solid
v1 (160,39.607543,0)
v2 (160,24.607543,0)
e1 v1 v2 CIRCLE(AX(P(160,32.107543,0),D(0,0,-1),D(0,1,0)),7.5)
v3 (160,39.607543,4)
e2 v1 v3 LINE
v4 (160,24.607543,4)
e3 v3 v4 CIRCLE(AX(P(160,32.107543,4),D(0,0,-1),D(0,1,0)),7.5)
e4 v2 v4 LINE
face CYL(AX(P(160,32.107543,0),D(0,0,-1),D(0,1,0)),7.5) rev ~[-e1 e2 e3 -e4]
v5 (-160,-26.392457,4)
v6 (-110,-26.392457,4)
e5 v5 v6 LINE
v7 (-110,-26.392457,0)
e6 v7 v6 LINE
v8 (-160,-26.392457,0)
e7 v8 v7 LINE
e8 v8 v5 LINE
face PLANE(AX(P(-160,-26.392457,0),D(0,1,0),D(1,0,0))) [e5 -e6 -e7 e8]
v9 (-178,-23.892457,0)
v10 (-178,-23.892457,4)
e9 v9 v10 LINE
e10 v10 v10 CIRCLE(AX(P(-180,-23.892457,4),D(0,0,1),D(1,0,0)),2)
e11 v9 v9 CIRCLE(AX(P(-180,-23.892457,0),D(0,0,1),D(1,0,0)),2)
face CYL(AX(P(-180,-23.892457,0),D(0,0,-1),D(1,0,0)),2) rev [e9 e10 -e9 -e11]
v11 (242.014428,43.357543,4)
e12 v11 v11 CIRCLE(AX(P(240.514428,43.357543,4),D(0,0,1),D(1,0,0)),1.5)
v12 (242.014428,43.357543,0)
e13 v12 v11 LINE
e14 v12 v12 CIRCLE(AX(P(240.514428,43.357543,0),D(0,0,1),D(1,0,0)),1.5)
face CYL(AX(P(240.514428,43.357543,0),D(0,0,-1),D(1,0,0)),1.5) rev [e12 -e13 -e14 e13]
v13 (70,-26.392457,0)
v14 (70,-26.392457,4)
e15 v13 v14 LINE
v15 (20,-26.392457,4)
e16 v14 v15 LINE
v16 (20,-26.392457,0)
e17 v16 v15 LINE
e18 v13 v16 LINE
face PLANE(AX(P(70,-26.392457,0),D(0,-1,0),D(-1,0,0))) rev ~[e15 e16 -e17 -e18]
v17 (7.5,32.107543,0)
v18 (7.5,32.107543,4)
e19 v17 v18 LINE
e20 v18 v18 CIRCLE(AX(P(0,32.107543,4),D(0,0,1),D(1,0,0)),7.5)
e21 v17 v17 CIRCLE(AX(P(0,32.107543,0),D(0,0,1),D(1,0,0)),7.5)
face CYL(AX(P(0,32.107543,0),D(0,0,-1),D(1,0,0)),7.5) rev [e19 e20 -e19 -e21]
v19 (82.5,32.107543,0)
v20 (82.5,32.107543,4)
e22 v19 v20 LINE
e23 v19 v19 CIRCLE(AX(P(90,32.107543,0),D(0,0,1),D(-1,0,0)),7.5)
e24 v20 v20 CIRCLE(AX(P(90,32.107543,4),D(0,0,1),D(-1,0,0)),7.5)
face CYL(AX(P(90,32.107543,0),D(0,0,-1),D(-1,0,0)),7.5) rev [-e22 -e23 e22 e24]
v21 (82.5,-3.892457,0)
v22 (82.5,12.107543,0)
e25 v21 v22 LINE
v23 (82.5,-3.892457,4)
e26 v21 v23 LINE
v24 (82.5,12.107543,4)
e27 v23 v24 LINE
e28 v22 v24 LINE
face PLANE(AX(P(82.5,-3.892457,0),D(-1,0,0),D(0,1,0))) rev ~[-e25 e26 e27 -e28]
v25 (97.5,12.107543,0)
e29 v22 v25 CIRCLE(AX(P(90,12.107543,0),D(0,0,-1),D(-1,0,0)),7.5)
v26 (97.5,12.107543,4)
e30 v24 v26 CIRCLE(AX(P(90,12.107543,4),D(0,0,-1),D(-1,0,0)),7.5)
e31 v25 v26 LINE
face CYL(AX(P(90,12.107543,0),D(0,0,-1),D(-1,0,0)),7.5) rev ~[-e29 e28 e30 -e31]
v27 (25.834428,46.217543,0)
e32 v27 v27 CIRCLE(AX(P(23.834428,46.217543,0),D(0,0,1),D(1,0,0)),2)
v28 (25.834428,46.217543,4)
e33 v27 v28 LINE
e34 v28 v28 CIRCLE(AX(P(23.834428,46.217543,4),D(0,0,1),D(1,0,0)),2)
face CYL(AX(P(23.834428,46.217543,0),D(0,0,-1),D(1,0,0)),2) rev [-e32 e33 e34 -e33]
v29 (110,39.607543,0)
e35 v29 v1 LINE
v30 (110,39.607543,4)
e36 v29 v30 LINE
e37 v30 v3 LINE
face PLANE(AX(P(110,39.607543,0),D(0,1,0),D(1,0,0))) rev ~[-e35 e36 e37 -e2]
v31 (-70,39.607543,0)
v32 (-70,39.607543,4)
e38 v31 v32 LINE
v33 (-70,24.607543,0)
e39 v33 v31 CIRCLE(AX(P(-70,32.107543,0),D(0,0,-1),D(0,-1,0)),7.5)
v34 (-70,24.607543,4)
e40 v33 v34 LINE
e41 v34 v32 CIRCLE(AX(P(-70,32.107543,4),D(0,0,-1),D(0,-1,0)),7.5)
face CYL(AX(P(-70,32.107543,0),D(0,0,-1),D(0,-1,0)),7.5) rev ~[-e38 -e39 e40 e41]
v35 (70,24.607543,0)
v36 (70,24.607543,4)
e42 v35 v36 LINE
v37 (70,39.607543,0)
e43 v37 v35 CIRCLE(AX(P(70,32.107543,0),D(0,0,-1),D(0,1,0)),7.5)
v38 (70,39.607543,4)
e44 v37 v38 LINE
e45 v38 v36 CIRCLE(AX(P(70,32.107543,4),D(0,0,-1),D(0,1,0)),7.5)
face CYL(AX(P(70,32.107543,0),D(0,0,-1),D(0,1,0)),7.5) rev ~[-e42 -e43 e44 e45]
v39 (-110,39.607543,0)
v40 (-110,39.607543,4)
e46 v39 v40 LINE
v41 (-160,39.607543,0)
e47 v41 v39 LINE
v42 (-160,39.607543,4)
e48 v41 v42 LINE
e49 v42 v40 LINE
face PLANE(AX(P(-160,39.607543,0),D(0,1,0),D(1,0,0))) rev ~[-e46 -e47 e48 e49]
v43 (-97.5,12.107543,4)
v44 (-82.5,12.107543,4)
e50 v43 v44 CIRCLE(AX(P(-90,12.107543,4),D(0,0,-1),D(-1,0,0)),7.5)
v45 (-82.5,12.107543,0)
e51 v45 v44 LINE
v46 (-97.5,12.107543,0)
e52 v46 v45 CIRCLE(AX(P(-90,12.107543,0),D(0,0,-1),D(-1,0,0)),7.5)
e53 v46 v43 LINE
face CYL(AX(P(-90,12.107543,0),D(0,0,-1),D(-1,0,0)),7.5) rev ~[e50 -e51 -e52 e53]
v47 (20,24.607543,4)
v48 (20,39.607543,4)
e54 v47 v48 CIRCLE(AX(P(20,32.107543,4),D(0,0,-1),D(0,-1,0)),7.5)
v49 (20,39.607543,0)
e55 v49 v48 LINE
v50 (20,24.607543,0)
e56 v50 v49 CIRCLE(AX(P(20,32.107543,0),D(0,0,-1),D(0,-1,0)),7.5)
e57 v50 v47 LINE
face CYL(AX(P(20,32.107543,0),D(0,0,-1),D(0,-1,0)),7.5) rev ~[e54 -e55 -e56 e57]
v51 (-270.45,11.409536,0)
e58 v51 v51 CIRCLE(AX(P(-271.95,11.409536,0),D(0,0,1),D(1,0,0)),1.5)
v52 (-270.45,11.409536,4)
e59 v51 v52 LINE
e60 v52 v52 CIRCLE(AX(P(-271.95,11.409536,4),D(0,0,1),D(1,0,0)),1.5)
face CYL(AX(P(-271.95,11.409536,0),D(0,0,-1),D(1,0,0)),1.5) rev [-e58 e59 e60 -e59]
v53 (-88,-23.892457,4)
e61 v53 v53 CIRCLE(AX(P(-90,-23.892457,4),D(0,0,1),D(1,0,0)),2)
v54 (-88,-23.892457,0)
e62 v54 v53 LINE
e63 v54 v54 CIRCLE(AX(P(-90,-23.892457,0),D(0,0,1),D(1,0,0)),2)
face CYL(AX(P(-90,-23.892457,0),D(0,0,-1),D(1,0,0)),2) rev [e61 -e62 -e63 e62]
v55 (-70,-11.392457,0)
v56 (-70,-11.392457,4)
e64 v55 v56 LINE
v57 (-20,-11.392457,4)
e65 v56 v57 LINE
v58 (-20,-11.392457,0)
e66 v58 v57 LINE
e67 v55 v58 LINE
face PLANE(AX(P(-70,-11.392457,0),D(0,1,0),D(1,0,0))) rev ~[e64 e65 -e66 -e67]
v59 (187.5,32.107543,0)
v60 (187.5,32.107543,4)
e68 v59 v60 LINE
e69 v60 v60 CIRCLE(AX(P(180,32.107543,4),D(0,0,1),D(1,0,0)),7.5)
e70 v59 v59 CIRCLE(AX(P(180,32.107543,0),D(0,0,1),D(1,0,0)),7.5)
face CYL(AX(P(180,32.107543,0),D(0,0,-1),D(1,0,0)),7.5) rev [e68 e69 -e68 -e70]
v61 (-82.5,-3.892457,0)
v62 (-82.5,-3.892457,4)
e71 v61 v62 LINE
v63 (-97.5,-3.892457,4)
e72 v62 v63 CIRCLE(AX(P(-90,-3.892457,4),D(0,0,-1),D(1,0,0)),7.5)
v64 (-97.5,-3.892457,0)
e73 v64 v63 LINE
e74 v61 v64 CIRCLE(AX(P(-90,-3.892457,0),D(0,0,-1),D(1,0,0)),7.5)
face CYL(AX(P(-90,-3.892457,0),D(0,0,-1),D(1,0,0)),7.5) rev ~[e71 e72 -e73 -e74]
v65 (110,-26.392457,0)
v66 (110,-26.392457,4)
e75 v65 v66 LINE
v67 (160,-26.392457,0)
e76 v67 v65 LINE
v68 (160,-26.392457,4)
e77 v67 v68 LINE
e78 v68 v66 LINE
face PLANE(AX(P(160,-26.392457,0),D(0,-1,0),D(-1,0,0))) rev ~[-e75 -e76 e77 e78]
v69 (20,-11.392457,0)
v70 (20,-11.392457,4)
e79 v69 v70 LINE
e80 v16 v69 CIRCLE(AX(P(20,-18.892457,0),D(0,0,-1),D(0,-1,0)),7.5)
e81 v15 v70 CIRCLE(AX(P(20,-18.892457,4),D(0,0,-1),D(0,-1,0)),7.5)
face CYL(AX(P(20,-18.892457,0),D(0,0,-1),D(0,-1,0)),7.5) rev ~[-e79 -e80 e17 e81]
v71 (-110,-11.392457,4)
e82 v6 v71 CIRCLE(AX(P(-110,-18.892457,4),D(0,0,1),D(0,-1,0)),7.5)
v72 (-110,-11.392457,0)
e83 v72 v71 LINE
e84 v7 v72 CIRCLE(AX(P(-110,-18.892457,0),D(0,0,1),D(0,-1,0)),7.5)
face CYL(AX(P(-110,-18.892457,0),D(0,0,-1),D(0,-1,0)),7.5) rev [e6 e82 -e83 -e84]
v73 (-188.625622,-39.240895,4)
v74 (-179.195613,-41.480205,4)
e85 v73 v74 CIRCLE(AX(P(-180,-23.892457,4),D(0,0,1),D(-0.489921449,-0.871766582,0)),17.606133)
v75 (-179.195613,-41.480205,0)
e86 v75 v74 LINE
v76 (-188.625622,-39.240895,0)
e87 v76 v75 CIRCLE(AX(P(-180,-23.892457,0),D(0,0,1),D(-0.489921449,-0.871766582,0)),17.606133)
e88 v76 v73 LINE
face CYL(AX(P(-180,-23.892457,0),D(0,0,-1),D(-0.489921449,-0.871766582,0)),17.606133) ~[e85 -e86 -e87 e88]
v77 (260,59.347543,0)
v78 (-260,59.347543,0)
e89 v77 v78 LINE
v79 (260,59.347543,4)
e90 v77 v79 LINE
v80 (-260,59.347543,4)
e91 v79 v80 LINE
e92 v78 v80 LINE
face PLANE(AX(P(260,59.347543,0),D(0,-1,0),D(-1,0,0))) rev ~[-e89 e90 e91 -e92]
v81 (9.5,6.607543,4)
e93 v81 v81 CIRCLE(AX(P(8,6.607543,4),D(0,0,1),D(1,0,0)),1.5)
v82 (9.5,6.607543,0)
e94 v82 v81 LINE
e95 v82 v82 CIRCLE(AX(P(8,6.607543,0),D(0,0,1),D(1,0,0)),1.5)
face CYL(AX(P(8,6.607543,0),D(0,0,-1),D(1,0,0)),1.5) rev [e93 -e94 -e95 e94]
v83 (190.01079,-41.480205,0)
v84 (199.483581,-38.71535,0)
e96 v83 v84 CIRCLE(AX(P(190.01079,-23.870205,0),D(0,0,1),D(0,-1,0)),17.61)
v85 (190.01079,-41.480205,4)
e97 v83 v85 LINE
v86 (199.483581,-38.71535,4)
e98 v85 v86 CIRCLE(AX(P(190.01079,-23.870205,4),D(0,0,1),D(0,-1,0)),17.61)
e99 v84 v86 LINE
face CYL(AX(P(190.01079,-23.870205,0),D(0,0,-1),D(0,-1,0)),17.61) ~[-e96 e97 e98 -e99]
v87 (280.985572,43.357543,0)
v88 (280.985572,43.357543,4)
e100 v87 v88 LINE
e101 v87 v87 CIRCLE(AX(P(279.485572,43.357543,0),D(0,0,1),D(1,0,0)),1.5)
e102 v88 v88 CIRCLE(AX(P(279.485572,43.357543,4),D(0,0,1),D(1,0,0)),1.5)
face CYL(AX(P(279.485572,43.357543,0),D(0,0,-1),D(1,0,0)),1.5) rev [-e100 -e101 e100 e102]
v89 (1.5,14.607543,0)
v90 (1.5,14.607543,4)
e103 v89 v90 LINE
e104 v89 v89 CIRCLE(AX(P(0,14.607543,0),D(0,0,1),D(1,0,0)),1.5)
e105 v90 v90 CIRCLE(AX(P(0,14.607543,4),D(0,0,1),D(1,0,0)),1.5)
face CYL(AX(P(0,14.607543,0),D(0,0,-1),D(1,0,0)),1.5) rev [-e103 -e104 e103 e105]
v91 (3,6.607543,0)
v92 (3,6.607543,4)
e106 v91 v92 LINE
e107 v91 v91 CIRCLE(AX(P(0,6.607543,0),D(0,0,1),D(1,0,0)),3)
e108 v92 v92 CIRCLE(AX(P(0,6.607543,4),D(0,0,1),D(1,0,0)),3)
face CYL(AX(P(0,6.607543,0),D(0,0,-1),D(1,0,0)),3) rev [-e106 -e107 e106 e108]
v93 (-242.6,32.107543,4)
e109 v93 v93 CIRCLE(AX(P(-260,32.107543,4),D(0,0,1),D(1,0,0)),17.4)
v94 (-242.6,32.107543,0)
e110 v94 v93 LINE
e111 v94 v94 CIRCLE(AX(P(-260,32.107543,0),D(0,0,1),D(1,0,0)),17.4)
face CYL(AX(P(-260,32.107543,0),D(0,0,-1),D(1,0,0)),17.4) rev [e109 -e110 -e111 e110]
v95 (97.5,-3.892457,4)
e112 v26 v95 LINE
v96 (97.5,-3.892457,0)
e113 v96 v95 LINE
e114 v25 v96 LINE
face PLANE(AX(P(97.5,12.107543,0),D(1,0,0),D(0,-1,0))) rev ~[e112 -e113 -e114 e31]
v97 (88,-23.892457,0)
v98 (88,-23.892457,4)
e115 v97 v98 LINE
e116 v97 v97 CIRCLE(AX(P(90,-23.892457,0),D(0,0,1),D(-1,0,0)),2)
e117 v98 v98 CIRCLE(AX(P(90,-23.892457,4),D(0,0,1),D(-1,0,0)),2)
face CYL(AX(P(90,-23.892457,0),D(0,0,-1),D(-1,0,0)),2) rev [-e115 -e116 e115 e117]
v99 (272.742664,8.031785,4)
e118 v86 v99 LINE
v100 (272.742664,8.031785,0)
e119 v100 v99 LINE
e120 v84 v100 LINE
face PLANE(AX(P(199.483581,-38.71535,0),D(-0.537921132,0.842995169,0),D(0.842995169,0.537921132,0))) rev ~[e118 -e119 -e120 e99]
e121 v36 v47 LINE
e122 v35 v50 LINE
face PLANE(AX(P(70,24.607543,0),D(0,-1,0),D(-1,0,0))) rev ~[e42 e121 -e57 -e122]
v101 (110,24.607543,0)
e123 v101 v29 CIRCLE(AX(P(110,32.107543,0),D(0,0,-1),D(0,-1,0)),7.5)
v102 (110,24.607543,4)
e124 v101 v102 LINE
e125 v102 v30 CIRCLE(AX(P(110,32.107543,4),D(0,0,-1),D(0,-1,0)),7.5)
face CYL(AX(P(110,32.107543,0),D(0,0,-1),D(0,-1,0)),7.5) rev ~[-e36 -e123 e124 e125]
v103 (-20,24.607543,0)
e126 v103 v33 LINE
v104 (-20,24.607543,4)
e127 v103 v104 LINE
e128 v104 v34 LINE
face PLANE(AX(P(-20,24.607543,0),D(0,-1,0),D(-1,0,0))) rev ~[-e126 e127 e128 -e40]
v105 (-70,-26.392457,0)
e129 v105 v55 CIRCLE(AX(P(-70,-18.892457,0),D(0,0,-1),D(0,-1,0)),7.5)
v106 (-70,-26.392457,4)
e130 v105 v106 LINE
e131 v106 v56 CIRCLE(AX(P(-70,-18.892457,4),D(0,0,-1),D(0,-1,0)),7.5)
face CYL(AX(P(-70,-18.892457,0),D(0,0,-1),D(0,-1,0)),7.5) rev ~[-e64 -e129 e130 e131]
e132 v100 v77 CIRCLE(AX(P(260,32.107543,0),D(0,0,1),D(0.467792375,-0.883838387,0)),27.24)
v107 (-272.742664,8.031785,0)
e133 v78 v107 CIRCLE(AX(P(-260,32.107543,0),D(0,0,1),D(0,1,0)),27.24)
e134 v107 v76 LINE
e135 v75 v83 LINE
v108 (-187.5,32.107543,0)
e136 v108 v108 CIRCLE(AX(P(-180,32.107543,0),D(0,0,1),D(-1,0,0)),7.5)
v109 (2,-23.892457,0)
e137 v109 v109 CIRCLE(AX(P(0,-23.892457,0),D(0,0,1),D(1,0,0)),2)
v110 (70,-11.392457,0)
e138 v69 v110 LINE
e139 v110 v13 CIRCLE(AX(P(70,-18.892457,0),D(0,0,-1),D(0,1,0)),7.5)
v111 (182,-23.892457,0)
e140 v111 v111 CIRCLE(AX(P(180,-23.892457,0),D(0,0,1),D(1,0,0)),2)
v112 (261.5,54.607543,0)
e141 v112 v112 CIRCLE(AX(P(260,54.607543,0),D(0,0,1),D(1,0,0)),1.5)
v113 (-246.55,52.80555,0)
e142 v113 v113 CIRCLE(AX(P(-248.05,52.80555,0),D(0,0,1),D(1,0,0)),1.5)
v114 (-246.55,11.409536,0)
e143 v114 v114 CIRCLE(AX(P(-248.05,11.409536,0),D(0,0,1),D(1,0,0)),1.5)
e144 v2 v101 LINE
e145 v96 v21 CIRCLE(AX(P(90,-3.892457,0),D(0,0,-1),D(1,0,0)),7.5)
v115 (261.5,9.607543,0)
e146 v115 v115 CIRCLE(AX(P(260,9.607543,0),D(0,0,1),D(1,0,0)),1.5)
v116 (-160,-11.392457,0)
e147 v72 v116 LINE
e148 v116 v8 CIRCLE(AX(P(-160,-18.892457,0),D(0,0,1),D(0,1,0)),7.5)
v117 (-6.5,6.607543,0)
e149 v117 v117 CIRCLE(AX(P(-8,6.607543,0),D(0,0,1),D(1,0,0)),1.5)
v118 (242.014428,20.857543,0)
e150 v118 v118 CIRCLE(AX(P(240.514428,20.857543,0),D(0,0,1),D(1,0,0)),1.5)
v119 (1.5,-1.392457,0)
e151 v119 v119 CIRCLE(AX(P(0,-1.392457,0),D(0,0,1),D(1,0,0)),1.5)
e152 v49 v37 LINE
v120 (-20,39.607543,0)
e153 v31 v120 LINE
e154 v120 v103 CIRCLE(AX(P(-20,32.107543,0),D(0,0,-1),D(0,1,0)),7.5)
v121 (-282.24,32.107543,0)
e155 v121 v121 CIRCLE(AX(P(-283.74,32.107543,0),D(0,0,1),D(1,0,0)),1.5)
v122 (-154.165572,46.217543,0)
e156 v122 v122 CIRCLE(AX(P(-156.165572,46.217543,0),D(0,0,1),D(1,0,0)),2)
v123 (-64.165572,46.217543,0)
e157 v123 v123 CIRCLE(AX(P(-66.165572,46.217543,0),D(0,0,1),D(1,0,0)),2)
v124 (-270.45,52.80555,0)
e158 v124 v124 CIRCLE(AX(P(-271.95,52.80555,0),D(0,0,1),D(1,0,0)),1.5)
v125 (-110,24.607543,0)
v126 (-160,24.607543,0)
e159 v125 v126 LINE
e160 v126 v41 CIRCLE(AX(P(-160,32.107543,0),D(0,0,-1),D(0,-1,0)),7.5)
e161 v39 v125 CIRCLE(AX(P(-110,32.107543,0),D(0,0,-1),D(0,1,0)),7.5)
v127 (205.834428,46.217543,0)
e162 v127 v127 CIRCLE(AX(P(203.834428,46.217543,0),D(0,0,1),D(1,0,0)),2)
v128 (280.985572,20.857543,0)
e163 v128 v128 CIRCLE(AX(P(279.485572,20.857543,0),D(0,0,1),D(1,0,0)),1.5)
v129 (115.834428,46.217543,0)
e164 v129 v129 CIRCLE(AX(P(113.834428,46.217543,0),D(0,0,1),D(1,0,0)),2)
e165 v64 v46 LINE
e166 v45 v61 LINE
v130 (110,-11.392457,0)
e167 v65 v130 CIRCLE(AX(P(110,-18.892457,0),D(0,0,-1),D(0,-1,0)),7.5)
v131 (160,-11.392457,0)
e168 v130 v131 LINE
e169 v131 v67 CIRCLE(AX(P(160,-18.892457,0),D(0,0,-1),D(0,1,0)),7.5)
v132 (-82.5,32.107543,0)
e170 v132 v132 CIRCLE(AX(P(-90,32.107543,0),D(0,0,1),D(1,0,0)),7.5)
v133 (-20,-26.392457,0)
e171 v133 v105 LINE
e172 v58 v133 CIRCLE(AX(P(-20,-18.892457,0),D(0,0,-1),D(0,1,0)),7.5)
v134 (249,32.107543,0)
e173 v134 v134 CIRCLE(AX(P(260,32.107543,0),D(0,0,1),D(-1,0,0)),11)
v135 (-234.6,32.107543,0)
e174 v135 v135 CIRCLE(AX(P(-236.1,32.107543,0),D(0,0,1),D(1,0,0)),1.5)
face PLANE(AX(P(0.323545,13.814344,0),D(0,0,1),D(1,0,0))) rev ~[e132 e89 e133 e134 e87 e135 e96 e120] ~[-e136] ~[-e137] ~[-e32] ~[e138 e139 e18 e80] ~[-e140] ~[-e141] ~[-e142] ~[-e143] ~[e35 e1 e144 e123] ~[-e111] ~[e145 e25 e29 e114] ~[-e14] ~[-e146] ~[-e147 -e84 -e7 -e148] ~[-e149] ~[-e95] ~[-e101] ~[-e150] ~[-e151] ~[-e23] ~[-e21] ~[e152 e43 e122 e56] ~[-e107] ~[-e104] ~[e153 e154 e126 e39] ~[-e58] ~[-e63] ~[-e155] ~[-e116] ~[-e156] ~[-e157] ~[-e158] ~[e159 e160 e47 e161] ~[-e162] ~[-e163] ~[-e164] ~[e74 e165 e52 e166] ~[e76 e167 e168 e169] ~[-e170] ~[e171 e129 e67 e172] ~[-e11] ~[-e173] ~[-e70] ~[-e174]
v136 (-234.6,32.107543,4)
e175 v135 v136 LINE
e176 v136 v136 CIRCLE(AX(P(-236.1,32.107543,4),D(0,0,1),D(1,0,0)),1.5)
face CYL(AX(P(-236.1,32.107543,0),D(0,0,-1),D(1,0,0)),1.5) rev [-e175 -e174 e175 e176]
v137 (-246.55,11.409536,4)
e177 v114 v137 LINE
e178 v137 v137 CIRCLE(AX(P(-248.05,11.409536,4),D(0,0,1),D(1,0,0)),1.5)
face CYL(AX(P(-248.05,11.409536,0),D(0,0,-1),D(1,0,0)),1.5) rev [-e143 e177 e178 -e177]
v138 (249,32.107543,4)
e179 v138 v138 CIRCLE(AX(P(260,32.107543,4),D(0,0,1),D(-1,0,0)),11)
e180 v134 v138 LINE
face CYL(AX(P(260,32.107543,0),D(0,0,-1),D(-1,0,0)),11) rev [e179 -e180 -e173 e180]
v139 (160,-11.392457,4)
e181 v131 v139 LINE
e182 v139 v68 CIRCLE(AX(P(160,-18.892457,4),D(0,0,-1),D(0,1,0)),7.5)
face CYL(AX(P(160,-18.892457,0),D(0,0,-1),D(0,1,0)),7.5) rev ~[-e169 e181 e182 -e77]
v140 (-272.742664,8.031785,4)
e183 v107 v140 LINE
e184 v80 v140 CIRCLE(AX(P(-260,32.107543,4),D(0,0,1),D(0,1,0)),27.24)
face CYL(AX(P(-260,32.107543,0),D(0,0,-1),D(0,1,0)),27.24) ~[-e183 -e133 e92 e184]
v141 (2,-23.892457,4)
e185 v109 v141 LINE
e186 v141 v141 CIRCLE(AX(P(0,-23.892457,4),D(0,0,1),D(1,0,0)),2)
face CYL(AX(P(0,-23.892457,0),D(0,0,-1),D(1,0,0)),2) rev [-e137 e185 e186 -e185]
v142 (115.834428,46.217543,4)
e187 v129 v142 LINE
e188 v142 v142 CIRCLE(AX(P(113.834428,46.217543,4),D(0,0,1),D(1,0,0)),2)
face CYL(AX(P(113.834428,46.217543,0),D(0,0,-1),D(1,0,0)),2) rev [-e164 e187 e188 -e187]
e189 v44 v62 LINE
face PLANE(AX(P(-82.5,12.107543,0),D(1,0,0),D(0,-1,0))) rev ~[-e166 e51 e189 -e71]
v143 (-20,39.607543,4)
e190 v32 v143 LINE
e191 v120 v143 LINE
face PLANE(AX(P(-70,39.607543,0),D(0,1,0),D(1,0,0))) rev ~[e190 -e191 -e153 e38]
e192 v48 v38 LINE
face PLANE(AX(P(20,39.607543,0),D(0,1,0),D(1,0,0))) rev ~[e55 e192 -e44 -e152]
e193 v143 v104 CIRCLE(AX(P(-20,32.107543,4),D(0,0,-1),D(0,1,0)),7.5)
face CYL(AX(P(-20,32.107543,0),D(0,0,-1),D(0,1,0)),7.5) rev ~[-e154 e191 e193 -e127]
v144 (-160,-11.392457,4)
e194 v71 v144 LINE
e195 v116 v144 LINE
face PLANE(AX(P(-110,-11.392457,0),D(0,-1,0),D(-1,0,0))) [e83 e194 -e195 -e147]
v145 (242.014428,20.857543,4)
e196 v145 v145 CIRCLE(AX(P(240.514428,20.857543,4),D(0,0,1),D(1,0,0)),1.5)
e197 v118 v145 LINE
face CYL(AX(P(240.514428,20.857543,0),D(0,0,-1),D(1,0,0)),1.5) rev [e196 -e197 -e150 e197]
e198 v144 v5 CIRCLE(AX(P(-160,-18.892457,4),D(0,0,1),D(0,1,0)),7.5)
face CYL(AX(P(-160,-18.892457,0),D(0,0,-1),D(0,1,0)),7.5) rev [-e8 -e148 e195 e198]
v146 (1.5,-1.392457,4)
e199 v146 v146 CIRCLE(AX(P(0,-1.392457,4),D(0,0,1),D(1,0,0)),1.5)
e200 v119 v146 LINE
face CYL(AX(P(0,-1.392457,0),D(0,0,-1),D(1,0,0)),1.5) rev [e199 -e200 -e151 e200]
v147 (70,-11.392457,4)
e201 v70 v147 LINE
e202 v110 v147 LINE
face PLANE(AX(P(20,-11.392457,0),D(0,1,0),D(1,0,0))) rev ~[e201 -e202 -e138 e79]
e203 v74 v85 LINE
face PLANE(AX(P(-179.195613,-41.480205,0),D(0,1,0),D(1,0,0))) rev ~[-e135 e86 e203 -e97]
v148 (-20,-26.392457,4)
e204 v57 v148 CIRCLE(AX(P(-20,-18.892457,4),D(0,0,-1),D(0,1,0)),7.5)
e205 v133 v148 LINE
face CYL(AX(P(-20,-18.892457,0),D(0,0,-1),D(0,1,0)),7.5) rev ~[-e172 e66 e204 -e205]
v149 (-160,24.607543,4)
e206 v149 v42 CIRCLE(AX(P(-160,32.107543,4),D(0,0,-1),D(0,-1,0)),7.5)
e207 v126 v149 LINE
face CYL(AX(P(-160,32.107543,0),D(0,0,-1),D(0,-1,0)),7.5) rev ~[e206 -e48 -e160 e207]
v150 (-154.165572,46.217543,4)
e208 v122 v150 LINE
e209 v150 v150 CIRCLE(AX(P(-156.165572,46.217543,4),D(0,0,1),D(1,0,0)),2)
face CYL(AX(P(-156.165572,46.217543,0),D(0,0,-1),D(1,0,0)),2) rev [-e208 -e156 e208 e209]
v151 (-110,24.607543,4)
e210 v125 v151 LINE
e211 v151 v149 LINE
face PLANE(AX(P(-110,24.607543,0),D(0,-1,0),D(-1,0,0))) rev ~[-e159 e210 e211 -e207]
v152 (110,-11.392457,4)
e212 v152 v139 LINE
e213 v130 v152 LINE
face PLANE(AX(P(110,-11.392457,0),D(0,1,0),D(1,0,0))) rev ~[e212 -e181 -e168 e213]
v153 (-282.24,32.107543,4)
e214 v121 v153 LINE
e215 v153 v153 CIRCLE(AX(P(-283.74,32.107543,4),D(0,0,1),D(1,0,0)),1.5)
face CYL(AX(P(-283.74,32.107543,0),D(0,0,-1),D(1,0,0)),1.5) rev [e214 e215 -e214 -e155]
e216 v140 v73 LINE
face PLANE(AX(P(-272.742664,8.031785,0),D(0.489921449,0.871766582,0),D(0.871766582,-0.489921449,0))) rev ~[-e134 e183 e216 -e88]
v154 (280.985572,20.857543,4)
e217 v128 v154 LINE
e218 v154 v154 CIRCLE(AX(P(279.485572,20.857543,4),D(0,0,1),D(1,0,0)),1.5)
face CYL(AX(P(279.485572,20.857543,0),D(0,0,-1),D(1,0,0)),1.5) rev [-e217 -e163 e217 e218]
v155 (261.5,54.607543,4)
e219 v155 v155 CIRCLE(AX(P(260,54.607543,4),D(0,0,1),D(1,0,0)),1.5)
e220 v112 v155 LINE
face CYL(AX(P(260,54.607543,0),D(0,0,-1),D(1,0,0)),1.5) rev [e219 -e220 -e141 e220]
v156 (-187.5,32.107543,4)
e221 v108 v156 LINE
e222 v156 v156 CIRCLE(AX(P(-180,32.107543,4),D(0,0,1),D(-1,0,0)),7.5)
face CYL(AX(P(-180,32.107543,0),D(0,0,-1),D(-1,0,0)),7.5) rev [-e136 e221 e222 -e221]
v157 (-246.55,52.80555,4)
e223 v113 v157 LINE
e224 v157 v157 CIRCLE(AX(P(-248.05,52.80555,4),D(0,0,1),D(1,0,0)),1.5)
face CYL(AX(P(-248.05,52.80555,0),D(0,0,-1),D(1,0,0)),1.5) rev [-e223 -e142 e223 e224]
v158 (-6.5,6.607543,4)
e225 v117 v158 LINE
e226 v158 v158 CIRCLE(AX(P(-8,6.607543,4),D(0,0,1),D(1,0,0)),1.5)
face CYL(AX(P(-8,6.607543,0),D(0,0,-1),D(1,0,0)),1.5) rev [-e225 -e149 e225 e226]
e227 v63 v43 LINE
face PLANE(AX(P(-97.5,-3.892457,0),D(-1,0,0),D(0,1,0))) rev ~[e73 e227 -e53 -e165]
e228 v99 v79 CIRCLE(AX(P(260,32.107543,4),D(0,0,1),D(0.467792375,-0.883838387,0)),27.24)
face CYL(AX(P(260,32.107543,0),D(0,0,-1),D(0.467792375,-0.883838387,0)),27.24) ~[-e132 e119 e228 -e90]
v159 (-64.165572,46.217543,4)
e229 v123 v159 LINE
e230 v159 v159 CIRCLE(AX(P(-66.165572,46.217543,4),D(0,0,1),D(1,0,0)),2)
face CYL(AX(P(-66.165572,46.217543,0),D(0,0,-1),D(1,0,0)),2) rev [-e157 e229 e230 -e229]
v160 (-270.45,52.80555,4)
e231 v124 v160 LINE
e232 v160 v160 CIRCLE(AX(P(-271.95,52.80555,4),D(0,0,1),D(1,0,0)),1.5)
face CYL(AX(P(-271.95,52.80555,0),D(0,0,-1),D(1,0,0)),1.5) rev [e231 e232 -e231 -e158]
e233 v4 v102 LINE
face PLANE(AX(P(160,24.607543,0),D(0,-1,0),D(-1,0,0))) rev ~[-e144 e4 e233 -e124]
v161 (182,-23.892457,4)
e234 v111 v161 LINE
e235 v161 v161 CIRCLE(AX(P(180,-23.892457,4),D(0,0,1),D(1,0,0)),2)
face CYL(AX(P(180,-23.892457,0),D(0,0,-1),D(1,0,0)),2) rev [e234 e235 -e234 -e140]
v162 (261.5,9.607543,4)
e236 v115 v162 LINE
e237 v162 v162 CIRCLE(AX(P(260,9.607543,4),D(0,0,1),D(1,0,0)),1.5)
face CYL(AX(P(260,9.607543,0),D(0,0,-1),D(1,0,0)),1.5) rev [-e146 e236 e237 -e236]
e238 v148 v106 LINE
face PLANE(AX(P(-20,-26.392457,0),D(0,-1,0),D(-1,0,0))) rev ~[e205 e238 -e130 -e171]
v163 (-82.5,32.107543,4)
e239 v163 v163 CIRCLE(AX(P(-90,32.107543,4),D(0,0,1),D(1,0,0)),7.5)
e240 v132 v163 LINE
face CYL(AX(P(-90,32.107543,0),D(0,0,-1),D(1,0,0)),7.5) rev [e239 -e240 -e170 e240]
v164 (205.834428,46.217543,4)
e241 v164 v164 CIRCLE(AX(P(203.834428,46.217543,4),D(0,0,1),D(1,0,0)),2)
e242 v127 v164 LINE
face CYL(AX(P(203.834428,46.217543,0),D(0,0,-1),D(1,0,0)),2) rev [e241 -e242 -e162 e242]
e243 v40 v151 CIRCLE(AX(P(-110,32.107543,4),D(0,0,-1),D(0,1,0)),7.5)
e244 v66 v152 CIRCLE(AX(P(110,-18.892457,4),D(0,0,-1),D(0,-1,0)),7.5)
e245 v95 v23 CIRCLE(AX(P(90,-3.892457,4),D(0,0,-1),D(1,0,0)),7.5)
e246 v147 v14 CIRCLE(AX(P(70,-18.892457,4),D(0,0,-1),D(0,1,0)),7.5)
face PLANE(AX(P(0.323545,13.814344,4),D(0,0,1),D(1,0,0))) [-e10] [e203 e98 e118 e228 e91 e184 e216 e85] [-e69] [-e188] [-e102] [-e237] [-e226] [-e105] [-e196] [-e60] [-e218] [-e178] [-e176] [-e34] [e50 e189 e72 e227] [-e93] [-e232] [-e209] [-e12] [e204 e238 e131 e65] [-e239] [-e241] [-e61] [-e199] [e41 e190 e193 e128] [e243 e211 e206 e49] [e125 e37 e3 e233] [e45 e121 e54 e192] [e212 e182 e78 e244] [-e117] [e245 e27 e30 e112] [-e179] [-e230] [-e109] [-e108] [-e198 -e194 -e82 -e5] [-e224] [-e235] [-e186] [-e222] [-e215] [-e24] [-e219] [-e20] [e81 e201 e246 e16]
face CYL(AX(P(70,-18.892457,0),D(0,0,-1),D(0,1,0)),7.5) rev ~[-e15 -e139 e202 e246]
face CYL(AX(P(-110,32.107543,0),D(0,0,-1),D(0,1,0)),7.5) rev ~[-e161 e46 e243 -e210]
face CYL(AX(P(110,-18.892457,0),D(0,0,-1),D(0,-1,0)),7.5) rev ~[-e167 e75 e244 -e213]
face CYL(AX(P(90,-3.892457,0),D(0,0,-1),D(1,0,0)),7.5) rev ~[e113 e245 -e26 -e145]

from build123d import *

# Parameters (mm, degrees)
CROQUIS2_R              = 2
CROQUIS2_R_2            = 7.5
CROQUIS2_R_3            = 17.4
CROQUIS2_R_4            = 11
CROQUIS2_R_5            = 1.5
CROQUIS2_R_6            = 3
SALIENTE_EXTRUIR1_DEPTH = 4


with BuildPart() as part:
    # Croquis2 → Saliente-Extruir1 (new body)
    with BuildSketch(Plane.XY):
        with BuildLine():
            Line((-179.195612521, -41.480204958), (179.195612521, -41.480204958))
            Line((179.195612521, -41.480204958), (190.010789857, -41.480204958))
            ThreePointArc((190.010789857, -41.480204958), (194.944809403, -40.774865591), (199.483580997, -38.715349889))
            Line((199.483580997, -38.715349889), (272.742664287, 8.031785175))
            ThreePointArc((272.742664287, 8.031785175), (286.437106864, 38.672371901), (260, 59.347542834))
            Line((260, 59.347542834), (-260, 59.347542834))
            ThreePointArc((-260, 59.347542834), (-286.437106864, 38.672371901), (-272.742664287, 8.031785175))
            Line((-272.742664287, 8.031785175), (-188.625622076, -39.240895373))
            ThreePointArc((-188.625622076, -39.240895373), (-184.06774563, -41.022236998), (-179.195612521, -41.480204958))
        make_face()
        with Locations((0, -23.892457166)):
            Circle(CROQUIS2_R, mode=Mode.SUBTRACT)
        with Locations((-90, -23.892457166)):
            Circle(CROQUIS2_R, mode=Mode.SUBTRACT)
        with Locations((-180, -23.892457166)):
            Circle(CROQUIS2_R, mode=Mode.SUBTRACT)
        with Locations((-90, 32.107542834)):
            Circle(CROQUIS2_R_2, mode=Mode.SUBTRACT)
        with Locations((0, 32.107542834)):
            Circle(CROQUIS2_R_2, mode=Mode.SUBTRACT)
        with Locations((-260, 32.107542834)):
            Circle(CROQUIS2_R_3, mode=Mode.SUBTRACT)
        with Locations(Location((260, 32.107542834, 0), (0, 0, 180))):
            Circle(CROQUIS2_R_4, mode=Mode.SUBTRACT)
        with Locations(Location((90, 32.107542834, 0), (0, 0, 180))):
            Circle(CROQUIS2_R_2, mode=Mode.SUBTRACT)
        with Locations(Location((90, -23.892457166, 0), (0, 0, 180))):
            Circle(CROQUIS2_R, mode=Mode.SUBTRACT)
        with Locations(Location((-180, 32.107542834, 0), (0, 0, 180))):
            Circle(CROQUIS2_R_2, mode=Mode.SUBTRACT)
        with Locations((180, 32.107542834)):
            Circle(CROQUIS2_R_2, mode=Mode.SUBTRACT)
        with Locations((-8, 6.607542834)):
            Circle(CROQUIS2_R_5, mode=Mode.SUBTRACT)
        with Locations((0, 14.607542834)):
            Circle(CROQUIS2_R_5, mode=Mode.SUBTRACT)
        with Locations((8, 6.607542834)):
            Circle(CROQUIS2_R_5, mode=Mode.SUBTRACT)
        with Locations((0, -1.392457166)):
            Circle(CROQUIS2_R_5, mode=Mode.SUBTRACT)
        with Locations((0, 6.607542834)):
            Circle(CROQUIS2_R_6, mode=Mode.SUBTRACT)
        with Locations((180, -23.892457166)):
            Circle(CROQUIS2_R, mode=Mode.SUBTRACT)
        with Locations((260, 9.607542834)):
            Circle(CROQUIS2_R_5, mode=Mode.SUBTRACT)
        with Locations((279.485571585, 20.857542834)):
            Circle(CROQUIS2_R_5, mode=Mode.SUBTRACT)
        with Locations((279.485571585, 43.357542834)):
            Circle(CROQUIS2_R_5, mode=Mode.SUBTRACT)
        with Locations((260, 54.607542834)):
            Circle(CROQUIS2_R_5, mode=Mode.SUBTRACT)
        with Locations((240.514428415, 43.357542834)):
            Circle(CROQUIS2_R_5, mode=Mode.SUBTRACT)
        with Locations((240.514428415, 20.857542834)):
            Circle(CROQUIS2_R_5, mode=Mode.SUBTRACT)
        with Locations((203.834428415, 46.217542834)):
            Circle(CROQUIS2_R, mode=Mode.SUBTRACT)
        with Locations((113.834428415, 46.217542834)):
            Circle(CROQUIS2_R, mode=Mode.SUBTRACT)
        with Locations((23.834428415, 46.217542834)):
            Circle(CROQUIS2_R, mode=Mode.SUBTRACT)
        with Locations((-66.165571585, 46.217542834)):
            Circle(CROQUIS2_R, mode=Mode.SUBTRACT)
        with Locations((-156.165571585, 46.217542834)):
            Circle(CROQUIS2_R, mode=Mode.SUBTRACT)
        with Locations((-248.05, 11.409535684)):
            Circle(CROQUIS2_R_5, mode=Mode.SUBTRACT)
        with Locations((-236.1, 32.107542834)):
            Circle(CROQUIS2_R_5, mode=Mode.SUBTRACT)
        with Locations((-248.05, 52.805549985)):
            Circle(CROQUIS2_R_5, mode=Mode.SUBTRACT)
        with Locations((-271.95, 52.805549985)):
            Circle(CROQUIS2_R_5, mode=Mode.SUBTRACT)
        with Locations((-283.74, 32.107542834)):
            Circle(CROQUIS2_R_5, mode=Mode.SUBTRACT)
        with Locations((-271.95, 11.409535684)):
            Circle(CROQUIS2_R_5, mode=Mode.SUBTRACT)
        with BuildLine():
            Line((-82.5, 12.107542834), (-82.5, -3.892457166))
            ThreePointArc((-82.5, -3.892457166), (-90, -11.392457166), (-97.5, -3.892457166))
            Line((-97.5, -3.892457166), (-97.5, 12.107542834))
            ThreePointArc((-97.5, 12.107542834), (-90, 19.607542834), (-82.5, 12.107542834))
        make_face(mode=Mode.SUBTRACT)
        with BuildLine():
            Line((-20, 24.607542834), (-70, 24.607542834))
            ThreePointArc((-70, 24.607542834), (-77.5, 32.107542834), (-70, 39.607542834))
            Line((-70, 39.607542834), (-20, 39.607542834))
            ThreePointArc((-20, 39.607542834), (-12.5, 32.107542834), (-20, 24.607542834))
        make_face(mode=Mode.SUBTRACT)
        with BuildLine():
            Line((160, -26.392457166), (110, -26.392457166))
            ThreePointArc((110, -26.392457166), (102.5, -18.892457166), (110, -11.392457166))
            Line((110, -11.392457166), (160, -11.392457166))
            ThreePointArc((160, -11.392457166), (167.5, -18.892457166), (160, -26.392457166))
        make_face(mode=Mode.SUBTRACT)
        with BuildLine():
            Line((20, -11.392457166), (70, -11.392457166))
            ThreePointArc((70, -11.392457166), (77.5, -18.892457166), (70, -26.392457166))
            Line((70, -26.392457166), (20, -26.392457166))
            ThreePointArc((20, -26.392457166), (12.5, -18.892457166), (20, -11.392457166))
        make_face(mode=Mode.SUBTRACT)
        with BuildLine():
            Line((20, 39.607542834), (70, 39.607542834))
            ThreePointArc((70, 39.607542834), (77.5, 32.107542834), (70, 24.607542834))
            Line((70, 24.607542834), (20, 24.607542834))
            ThreePointArc((20, 24.607542834), (12.5, 32.107542834), (20, 39.607542834))
        make_face(mode=Mode.SUBTRACT)
        with BuildLine():
            Line((-160, 39.607542834), (-110, 39.607542834))
            ThreePointArc((-110, 39.607542834), (-102.5, 32.107542834), (-110, 24.607542834))
            Line((-110, 24.607542834), (-160, 24.607542834))
            ThreePointArc((-160, 24.607542834), (-167.5, 32.107542834), (-160, 39.607542834))
        make_face(mode=Mode.SUBTRACT)
        with BuildLine():
            Line((-20, -26.392457166), (-70, -26.392457166))
            ThreePointArc((-70, -26.392457166), (-77.5, -18.892457166), (-70, -11.392457166))
            Line((-70, -11.392457166), (-20, -11.392457166))
            ThreePointArc((-20, -11.392457166), (-12.5, -18.892457166), (-20, -26.392457166))
        make_face(mode=Mode.SUBTRACT)
        with BuildLine():
            Line((160, 24.607542834), (110, 24.607542834))
            ThreePointArc((110, 24.607542834), (102.5, 32.107542834), (110, 39.607542834))
            Line((110, 39.607542834), (160, 39.607542834))
            ThreePointArc((160, 39.607542834), (167.5, 32.107542834), (160, 24.607542834))
        make_face(mode=Mode.SUBTRACT)
        with BuildLine():
            Line((-160, -26.392457166), (-110, -26.392457166))
            ThreePointArc((-110, -26.392457166), (-102.5, -18.892457166), (-110, -11.392457166))
            Line((-110, -11.392457166), (-160, -11.392457166))
            ThreePointArc((-160, -11.392457166), (-167.5, -18.892457166), (-160, -26.392457166))
        make_face(mode=Mode.SUBTRACT)
        with BuildLine():
            Line((97.5, 12.107542834), (97.5, -3.892457166))
            ThreePointArc((97.5, -3.892457166), (90, -11.392457166), (82.5, -3.892457166))
            Line((82.5, -3.892457166), (82.5, 12.107542834))
            ThreePointArc((82.5, 12.107542834), (90, 19.607542834), (97.5, 12.107542834))
        make_face(mode=Mode.SUBTRACT)
    extrude(amount=SALIENTE_EXTRUIR1_DEPTH)


solid = part.part
